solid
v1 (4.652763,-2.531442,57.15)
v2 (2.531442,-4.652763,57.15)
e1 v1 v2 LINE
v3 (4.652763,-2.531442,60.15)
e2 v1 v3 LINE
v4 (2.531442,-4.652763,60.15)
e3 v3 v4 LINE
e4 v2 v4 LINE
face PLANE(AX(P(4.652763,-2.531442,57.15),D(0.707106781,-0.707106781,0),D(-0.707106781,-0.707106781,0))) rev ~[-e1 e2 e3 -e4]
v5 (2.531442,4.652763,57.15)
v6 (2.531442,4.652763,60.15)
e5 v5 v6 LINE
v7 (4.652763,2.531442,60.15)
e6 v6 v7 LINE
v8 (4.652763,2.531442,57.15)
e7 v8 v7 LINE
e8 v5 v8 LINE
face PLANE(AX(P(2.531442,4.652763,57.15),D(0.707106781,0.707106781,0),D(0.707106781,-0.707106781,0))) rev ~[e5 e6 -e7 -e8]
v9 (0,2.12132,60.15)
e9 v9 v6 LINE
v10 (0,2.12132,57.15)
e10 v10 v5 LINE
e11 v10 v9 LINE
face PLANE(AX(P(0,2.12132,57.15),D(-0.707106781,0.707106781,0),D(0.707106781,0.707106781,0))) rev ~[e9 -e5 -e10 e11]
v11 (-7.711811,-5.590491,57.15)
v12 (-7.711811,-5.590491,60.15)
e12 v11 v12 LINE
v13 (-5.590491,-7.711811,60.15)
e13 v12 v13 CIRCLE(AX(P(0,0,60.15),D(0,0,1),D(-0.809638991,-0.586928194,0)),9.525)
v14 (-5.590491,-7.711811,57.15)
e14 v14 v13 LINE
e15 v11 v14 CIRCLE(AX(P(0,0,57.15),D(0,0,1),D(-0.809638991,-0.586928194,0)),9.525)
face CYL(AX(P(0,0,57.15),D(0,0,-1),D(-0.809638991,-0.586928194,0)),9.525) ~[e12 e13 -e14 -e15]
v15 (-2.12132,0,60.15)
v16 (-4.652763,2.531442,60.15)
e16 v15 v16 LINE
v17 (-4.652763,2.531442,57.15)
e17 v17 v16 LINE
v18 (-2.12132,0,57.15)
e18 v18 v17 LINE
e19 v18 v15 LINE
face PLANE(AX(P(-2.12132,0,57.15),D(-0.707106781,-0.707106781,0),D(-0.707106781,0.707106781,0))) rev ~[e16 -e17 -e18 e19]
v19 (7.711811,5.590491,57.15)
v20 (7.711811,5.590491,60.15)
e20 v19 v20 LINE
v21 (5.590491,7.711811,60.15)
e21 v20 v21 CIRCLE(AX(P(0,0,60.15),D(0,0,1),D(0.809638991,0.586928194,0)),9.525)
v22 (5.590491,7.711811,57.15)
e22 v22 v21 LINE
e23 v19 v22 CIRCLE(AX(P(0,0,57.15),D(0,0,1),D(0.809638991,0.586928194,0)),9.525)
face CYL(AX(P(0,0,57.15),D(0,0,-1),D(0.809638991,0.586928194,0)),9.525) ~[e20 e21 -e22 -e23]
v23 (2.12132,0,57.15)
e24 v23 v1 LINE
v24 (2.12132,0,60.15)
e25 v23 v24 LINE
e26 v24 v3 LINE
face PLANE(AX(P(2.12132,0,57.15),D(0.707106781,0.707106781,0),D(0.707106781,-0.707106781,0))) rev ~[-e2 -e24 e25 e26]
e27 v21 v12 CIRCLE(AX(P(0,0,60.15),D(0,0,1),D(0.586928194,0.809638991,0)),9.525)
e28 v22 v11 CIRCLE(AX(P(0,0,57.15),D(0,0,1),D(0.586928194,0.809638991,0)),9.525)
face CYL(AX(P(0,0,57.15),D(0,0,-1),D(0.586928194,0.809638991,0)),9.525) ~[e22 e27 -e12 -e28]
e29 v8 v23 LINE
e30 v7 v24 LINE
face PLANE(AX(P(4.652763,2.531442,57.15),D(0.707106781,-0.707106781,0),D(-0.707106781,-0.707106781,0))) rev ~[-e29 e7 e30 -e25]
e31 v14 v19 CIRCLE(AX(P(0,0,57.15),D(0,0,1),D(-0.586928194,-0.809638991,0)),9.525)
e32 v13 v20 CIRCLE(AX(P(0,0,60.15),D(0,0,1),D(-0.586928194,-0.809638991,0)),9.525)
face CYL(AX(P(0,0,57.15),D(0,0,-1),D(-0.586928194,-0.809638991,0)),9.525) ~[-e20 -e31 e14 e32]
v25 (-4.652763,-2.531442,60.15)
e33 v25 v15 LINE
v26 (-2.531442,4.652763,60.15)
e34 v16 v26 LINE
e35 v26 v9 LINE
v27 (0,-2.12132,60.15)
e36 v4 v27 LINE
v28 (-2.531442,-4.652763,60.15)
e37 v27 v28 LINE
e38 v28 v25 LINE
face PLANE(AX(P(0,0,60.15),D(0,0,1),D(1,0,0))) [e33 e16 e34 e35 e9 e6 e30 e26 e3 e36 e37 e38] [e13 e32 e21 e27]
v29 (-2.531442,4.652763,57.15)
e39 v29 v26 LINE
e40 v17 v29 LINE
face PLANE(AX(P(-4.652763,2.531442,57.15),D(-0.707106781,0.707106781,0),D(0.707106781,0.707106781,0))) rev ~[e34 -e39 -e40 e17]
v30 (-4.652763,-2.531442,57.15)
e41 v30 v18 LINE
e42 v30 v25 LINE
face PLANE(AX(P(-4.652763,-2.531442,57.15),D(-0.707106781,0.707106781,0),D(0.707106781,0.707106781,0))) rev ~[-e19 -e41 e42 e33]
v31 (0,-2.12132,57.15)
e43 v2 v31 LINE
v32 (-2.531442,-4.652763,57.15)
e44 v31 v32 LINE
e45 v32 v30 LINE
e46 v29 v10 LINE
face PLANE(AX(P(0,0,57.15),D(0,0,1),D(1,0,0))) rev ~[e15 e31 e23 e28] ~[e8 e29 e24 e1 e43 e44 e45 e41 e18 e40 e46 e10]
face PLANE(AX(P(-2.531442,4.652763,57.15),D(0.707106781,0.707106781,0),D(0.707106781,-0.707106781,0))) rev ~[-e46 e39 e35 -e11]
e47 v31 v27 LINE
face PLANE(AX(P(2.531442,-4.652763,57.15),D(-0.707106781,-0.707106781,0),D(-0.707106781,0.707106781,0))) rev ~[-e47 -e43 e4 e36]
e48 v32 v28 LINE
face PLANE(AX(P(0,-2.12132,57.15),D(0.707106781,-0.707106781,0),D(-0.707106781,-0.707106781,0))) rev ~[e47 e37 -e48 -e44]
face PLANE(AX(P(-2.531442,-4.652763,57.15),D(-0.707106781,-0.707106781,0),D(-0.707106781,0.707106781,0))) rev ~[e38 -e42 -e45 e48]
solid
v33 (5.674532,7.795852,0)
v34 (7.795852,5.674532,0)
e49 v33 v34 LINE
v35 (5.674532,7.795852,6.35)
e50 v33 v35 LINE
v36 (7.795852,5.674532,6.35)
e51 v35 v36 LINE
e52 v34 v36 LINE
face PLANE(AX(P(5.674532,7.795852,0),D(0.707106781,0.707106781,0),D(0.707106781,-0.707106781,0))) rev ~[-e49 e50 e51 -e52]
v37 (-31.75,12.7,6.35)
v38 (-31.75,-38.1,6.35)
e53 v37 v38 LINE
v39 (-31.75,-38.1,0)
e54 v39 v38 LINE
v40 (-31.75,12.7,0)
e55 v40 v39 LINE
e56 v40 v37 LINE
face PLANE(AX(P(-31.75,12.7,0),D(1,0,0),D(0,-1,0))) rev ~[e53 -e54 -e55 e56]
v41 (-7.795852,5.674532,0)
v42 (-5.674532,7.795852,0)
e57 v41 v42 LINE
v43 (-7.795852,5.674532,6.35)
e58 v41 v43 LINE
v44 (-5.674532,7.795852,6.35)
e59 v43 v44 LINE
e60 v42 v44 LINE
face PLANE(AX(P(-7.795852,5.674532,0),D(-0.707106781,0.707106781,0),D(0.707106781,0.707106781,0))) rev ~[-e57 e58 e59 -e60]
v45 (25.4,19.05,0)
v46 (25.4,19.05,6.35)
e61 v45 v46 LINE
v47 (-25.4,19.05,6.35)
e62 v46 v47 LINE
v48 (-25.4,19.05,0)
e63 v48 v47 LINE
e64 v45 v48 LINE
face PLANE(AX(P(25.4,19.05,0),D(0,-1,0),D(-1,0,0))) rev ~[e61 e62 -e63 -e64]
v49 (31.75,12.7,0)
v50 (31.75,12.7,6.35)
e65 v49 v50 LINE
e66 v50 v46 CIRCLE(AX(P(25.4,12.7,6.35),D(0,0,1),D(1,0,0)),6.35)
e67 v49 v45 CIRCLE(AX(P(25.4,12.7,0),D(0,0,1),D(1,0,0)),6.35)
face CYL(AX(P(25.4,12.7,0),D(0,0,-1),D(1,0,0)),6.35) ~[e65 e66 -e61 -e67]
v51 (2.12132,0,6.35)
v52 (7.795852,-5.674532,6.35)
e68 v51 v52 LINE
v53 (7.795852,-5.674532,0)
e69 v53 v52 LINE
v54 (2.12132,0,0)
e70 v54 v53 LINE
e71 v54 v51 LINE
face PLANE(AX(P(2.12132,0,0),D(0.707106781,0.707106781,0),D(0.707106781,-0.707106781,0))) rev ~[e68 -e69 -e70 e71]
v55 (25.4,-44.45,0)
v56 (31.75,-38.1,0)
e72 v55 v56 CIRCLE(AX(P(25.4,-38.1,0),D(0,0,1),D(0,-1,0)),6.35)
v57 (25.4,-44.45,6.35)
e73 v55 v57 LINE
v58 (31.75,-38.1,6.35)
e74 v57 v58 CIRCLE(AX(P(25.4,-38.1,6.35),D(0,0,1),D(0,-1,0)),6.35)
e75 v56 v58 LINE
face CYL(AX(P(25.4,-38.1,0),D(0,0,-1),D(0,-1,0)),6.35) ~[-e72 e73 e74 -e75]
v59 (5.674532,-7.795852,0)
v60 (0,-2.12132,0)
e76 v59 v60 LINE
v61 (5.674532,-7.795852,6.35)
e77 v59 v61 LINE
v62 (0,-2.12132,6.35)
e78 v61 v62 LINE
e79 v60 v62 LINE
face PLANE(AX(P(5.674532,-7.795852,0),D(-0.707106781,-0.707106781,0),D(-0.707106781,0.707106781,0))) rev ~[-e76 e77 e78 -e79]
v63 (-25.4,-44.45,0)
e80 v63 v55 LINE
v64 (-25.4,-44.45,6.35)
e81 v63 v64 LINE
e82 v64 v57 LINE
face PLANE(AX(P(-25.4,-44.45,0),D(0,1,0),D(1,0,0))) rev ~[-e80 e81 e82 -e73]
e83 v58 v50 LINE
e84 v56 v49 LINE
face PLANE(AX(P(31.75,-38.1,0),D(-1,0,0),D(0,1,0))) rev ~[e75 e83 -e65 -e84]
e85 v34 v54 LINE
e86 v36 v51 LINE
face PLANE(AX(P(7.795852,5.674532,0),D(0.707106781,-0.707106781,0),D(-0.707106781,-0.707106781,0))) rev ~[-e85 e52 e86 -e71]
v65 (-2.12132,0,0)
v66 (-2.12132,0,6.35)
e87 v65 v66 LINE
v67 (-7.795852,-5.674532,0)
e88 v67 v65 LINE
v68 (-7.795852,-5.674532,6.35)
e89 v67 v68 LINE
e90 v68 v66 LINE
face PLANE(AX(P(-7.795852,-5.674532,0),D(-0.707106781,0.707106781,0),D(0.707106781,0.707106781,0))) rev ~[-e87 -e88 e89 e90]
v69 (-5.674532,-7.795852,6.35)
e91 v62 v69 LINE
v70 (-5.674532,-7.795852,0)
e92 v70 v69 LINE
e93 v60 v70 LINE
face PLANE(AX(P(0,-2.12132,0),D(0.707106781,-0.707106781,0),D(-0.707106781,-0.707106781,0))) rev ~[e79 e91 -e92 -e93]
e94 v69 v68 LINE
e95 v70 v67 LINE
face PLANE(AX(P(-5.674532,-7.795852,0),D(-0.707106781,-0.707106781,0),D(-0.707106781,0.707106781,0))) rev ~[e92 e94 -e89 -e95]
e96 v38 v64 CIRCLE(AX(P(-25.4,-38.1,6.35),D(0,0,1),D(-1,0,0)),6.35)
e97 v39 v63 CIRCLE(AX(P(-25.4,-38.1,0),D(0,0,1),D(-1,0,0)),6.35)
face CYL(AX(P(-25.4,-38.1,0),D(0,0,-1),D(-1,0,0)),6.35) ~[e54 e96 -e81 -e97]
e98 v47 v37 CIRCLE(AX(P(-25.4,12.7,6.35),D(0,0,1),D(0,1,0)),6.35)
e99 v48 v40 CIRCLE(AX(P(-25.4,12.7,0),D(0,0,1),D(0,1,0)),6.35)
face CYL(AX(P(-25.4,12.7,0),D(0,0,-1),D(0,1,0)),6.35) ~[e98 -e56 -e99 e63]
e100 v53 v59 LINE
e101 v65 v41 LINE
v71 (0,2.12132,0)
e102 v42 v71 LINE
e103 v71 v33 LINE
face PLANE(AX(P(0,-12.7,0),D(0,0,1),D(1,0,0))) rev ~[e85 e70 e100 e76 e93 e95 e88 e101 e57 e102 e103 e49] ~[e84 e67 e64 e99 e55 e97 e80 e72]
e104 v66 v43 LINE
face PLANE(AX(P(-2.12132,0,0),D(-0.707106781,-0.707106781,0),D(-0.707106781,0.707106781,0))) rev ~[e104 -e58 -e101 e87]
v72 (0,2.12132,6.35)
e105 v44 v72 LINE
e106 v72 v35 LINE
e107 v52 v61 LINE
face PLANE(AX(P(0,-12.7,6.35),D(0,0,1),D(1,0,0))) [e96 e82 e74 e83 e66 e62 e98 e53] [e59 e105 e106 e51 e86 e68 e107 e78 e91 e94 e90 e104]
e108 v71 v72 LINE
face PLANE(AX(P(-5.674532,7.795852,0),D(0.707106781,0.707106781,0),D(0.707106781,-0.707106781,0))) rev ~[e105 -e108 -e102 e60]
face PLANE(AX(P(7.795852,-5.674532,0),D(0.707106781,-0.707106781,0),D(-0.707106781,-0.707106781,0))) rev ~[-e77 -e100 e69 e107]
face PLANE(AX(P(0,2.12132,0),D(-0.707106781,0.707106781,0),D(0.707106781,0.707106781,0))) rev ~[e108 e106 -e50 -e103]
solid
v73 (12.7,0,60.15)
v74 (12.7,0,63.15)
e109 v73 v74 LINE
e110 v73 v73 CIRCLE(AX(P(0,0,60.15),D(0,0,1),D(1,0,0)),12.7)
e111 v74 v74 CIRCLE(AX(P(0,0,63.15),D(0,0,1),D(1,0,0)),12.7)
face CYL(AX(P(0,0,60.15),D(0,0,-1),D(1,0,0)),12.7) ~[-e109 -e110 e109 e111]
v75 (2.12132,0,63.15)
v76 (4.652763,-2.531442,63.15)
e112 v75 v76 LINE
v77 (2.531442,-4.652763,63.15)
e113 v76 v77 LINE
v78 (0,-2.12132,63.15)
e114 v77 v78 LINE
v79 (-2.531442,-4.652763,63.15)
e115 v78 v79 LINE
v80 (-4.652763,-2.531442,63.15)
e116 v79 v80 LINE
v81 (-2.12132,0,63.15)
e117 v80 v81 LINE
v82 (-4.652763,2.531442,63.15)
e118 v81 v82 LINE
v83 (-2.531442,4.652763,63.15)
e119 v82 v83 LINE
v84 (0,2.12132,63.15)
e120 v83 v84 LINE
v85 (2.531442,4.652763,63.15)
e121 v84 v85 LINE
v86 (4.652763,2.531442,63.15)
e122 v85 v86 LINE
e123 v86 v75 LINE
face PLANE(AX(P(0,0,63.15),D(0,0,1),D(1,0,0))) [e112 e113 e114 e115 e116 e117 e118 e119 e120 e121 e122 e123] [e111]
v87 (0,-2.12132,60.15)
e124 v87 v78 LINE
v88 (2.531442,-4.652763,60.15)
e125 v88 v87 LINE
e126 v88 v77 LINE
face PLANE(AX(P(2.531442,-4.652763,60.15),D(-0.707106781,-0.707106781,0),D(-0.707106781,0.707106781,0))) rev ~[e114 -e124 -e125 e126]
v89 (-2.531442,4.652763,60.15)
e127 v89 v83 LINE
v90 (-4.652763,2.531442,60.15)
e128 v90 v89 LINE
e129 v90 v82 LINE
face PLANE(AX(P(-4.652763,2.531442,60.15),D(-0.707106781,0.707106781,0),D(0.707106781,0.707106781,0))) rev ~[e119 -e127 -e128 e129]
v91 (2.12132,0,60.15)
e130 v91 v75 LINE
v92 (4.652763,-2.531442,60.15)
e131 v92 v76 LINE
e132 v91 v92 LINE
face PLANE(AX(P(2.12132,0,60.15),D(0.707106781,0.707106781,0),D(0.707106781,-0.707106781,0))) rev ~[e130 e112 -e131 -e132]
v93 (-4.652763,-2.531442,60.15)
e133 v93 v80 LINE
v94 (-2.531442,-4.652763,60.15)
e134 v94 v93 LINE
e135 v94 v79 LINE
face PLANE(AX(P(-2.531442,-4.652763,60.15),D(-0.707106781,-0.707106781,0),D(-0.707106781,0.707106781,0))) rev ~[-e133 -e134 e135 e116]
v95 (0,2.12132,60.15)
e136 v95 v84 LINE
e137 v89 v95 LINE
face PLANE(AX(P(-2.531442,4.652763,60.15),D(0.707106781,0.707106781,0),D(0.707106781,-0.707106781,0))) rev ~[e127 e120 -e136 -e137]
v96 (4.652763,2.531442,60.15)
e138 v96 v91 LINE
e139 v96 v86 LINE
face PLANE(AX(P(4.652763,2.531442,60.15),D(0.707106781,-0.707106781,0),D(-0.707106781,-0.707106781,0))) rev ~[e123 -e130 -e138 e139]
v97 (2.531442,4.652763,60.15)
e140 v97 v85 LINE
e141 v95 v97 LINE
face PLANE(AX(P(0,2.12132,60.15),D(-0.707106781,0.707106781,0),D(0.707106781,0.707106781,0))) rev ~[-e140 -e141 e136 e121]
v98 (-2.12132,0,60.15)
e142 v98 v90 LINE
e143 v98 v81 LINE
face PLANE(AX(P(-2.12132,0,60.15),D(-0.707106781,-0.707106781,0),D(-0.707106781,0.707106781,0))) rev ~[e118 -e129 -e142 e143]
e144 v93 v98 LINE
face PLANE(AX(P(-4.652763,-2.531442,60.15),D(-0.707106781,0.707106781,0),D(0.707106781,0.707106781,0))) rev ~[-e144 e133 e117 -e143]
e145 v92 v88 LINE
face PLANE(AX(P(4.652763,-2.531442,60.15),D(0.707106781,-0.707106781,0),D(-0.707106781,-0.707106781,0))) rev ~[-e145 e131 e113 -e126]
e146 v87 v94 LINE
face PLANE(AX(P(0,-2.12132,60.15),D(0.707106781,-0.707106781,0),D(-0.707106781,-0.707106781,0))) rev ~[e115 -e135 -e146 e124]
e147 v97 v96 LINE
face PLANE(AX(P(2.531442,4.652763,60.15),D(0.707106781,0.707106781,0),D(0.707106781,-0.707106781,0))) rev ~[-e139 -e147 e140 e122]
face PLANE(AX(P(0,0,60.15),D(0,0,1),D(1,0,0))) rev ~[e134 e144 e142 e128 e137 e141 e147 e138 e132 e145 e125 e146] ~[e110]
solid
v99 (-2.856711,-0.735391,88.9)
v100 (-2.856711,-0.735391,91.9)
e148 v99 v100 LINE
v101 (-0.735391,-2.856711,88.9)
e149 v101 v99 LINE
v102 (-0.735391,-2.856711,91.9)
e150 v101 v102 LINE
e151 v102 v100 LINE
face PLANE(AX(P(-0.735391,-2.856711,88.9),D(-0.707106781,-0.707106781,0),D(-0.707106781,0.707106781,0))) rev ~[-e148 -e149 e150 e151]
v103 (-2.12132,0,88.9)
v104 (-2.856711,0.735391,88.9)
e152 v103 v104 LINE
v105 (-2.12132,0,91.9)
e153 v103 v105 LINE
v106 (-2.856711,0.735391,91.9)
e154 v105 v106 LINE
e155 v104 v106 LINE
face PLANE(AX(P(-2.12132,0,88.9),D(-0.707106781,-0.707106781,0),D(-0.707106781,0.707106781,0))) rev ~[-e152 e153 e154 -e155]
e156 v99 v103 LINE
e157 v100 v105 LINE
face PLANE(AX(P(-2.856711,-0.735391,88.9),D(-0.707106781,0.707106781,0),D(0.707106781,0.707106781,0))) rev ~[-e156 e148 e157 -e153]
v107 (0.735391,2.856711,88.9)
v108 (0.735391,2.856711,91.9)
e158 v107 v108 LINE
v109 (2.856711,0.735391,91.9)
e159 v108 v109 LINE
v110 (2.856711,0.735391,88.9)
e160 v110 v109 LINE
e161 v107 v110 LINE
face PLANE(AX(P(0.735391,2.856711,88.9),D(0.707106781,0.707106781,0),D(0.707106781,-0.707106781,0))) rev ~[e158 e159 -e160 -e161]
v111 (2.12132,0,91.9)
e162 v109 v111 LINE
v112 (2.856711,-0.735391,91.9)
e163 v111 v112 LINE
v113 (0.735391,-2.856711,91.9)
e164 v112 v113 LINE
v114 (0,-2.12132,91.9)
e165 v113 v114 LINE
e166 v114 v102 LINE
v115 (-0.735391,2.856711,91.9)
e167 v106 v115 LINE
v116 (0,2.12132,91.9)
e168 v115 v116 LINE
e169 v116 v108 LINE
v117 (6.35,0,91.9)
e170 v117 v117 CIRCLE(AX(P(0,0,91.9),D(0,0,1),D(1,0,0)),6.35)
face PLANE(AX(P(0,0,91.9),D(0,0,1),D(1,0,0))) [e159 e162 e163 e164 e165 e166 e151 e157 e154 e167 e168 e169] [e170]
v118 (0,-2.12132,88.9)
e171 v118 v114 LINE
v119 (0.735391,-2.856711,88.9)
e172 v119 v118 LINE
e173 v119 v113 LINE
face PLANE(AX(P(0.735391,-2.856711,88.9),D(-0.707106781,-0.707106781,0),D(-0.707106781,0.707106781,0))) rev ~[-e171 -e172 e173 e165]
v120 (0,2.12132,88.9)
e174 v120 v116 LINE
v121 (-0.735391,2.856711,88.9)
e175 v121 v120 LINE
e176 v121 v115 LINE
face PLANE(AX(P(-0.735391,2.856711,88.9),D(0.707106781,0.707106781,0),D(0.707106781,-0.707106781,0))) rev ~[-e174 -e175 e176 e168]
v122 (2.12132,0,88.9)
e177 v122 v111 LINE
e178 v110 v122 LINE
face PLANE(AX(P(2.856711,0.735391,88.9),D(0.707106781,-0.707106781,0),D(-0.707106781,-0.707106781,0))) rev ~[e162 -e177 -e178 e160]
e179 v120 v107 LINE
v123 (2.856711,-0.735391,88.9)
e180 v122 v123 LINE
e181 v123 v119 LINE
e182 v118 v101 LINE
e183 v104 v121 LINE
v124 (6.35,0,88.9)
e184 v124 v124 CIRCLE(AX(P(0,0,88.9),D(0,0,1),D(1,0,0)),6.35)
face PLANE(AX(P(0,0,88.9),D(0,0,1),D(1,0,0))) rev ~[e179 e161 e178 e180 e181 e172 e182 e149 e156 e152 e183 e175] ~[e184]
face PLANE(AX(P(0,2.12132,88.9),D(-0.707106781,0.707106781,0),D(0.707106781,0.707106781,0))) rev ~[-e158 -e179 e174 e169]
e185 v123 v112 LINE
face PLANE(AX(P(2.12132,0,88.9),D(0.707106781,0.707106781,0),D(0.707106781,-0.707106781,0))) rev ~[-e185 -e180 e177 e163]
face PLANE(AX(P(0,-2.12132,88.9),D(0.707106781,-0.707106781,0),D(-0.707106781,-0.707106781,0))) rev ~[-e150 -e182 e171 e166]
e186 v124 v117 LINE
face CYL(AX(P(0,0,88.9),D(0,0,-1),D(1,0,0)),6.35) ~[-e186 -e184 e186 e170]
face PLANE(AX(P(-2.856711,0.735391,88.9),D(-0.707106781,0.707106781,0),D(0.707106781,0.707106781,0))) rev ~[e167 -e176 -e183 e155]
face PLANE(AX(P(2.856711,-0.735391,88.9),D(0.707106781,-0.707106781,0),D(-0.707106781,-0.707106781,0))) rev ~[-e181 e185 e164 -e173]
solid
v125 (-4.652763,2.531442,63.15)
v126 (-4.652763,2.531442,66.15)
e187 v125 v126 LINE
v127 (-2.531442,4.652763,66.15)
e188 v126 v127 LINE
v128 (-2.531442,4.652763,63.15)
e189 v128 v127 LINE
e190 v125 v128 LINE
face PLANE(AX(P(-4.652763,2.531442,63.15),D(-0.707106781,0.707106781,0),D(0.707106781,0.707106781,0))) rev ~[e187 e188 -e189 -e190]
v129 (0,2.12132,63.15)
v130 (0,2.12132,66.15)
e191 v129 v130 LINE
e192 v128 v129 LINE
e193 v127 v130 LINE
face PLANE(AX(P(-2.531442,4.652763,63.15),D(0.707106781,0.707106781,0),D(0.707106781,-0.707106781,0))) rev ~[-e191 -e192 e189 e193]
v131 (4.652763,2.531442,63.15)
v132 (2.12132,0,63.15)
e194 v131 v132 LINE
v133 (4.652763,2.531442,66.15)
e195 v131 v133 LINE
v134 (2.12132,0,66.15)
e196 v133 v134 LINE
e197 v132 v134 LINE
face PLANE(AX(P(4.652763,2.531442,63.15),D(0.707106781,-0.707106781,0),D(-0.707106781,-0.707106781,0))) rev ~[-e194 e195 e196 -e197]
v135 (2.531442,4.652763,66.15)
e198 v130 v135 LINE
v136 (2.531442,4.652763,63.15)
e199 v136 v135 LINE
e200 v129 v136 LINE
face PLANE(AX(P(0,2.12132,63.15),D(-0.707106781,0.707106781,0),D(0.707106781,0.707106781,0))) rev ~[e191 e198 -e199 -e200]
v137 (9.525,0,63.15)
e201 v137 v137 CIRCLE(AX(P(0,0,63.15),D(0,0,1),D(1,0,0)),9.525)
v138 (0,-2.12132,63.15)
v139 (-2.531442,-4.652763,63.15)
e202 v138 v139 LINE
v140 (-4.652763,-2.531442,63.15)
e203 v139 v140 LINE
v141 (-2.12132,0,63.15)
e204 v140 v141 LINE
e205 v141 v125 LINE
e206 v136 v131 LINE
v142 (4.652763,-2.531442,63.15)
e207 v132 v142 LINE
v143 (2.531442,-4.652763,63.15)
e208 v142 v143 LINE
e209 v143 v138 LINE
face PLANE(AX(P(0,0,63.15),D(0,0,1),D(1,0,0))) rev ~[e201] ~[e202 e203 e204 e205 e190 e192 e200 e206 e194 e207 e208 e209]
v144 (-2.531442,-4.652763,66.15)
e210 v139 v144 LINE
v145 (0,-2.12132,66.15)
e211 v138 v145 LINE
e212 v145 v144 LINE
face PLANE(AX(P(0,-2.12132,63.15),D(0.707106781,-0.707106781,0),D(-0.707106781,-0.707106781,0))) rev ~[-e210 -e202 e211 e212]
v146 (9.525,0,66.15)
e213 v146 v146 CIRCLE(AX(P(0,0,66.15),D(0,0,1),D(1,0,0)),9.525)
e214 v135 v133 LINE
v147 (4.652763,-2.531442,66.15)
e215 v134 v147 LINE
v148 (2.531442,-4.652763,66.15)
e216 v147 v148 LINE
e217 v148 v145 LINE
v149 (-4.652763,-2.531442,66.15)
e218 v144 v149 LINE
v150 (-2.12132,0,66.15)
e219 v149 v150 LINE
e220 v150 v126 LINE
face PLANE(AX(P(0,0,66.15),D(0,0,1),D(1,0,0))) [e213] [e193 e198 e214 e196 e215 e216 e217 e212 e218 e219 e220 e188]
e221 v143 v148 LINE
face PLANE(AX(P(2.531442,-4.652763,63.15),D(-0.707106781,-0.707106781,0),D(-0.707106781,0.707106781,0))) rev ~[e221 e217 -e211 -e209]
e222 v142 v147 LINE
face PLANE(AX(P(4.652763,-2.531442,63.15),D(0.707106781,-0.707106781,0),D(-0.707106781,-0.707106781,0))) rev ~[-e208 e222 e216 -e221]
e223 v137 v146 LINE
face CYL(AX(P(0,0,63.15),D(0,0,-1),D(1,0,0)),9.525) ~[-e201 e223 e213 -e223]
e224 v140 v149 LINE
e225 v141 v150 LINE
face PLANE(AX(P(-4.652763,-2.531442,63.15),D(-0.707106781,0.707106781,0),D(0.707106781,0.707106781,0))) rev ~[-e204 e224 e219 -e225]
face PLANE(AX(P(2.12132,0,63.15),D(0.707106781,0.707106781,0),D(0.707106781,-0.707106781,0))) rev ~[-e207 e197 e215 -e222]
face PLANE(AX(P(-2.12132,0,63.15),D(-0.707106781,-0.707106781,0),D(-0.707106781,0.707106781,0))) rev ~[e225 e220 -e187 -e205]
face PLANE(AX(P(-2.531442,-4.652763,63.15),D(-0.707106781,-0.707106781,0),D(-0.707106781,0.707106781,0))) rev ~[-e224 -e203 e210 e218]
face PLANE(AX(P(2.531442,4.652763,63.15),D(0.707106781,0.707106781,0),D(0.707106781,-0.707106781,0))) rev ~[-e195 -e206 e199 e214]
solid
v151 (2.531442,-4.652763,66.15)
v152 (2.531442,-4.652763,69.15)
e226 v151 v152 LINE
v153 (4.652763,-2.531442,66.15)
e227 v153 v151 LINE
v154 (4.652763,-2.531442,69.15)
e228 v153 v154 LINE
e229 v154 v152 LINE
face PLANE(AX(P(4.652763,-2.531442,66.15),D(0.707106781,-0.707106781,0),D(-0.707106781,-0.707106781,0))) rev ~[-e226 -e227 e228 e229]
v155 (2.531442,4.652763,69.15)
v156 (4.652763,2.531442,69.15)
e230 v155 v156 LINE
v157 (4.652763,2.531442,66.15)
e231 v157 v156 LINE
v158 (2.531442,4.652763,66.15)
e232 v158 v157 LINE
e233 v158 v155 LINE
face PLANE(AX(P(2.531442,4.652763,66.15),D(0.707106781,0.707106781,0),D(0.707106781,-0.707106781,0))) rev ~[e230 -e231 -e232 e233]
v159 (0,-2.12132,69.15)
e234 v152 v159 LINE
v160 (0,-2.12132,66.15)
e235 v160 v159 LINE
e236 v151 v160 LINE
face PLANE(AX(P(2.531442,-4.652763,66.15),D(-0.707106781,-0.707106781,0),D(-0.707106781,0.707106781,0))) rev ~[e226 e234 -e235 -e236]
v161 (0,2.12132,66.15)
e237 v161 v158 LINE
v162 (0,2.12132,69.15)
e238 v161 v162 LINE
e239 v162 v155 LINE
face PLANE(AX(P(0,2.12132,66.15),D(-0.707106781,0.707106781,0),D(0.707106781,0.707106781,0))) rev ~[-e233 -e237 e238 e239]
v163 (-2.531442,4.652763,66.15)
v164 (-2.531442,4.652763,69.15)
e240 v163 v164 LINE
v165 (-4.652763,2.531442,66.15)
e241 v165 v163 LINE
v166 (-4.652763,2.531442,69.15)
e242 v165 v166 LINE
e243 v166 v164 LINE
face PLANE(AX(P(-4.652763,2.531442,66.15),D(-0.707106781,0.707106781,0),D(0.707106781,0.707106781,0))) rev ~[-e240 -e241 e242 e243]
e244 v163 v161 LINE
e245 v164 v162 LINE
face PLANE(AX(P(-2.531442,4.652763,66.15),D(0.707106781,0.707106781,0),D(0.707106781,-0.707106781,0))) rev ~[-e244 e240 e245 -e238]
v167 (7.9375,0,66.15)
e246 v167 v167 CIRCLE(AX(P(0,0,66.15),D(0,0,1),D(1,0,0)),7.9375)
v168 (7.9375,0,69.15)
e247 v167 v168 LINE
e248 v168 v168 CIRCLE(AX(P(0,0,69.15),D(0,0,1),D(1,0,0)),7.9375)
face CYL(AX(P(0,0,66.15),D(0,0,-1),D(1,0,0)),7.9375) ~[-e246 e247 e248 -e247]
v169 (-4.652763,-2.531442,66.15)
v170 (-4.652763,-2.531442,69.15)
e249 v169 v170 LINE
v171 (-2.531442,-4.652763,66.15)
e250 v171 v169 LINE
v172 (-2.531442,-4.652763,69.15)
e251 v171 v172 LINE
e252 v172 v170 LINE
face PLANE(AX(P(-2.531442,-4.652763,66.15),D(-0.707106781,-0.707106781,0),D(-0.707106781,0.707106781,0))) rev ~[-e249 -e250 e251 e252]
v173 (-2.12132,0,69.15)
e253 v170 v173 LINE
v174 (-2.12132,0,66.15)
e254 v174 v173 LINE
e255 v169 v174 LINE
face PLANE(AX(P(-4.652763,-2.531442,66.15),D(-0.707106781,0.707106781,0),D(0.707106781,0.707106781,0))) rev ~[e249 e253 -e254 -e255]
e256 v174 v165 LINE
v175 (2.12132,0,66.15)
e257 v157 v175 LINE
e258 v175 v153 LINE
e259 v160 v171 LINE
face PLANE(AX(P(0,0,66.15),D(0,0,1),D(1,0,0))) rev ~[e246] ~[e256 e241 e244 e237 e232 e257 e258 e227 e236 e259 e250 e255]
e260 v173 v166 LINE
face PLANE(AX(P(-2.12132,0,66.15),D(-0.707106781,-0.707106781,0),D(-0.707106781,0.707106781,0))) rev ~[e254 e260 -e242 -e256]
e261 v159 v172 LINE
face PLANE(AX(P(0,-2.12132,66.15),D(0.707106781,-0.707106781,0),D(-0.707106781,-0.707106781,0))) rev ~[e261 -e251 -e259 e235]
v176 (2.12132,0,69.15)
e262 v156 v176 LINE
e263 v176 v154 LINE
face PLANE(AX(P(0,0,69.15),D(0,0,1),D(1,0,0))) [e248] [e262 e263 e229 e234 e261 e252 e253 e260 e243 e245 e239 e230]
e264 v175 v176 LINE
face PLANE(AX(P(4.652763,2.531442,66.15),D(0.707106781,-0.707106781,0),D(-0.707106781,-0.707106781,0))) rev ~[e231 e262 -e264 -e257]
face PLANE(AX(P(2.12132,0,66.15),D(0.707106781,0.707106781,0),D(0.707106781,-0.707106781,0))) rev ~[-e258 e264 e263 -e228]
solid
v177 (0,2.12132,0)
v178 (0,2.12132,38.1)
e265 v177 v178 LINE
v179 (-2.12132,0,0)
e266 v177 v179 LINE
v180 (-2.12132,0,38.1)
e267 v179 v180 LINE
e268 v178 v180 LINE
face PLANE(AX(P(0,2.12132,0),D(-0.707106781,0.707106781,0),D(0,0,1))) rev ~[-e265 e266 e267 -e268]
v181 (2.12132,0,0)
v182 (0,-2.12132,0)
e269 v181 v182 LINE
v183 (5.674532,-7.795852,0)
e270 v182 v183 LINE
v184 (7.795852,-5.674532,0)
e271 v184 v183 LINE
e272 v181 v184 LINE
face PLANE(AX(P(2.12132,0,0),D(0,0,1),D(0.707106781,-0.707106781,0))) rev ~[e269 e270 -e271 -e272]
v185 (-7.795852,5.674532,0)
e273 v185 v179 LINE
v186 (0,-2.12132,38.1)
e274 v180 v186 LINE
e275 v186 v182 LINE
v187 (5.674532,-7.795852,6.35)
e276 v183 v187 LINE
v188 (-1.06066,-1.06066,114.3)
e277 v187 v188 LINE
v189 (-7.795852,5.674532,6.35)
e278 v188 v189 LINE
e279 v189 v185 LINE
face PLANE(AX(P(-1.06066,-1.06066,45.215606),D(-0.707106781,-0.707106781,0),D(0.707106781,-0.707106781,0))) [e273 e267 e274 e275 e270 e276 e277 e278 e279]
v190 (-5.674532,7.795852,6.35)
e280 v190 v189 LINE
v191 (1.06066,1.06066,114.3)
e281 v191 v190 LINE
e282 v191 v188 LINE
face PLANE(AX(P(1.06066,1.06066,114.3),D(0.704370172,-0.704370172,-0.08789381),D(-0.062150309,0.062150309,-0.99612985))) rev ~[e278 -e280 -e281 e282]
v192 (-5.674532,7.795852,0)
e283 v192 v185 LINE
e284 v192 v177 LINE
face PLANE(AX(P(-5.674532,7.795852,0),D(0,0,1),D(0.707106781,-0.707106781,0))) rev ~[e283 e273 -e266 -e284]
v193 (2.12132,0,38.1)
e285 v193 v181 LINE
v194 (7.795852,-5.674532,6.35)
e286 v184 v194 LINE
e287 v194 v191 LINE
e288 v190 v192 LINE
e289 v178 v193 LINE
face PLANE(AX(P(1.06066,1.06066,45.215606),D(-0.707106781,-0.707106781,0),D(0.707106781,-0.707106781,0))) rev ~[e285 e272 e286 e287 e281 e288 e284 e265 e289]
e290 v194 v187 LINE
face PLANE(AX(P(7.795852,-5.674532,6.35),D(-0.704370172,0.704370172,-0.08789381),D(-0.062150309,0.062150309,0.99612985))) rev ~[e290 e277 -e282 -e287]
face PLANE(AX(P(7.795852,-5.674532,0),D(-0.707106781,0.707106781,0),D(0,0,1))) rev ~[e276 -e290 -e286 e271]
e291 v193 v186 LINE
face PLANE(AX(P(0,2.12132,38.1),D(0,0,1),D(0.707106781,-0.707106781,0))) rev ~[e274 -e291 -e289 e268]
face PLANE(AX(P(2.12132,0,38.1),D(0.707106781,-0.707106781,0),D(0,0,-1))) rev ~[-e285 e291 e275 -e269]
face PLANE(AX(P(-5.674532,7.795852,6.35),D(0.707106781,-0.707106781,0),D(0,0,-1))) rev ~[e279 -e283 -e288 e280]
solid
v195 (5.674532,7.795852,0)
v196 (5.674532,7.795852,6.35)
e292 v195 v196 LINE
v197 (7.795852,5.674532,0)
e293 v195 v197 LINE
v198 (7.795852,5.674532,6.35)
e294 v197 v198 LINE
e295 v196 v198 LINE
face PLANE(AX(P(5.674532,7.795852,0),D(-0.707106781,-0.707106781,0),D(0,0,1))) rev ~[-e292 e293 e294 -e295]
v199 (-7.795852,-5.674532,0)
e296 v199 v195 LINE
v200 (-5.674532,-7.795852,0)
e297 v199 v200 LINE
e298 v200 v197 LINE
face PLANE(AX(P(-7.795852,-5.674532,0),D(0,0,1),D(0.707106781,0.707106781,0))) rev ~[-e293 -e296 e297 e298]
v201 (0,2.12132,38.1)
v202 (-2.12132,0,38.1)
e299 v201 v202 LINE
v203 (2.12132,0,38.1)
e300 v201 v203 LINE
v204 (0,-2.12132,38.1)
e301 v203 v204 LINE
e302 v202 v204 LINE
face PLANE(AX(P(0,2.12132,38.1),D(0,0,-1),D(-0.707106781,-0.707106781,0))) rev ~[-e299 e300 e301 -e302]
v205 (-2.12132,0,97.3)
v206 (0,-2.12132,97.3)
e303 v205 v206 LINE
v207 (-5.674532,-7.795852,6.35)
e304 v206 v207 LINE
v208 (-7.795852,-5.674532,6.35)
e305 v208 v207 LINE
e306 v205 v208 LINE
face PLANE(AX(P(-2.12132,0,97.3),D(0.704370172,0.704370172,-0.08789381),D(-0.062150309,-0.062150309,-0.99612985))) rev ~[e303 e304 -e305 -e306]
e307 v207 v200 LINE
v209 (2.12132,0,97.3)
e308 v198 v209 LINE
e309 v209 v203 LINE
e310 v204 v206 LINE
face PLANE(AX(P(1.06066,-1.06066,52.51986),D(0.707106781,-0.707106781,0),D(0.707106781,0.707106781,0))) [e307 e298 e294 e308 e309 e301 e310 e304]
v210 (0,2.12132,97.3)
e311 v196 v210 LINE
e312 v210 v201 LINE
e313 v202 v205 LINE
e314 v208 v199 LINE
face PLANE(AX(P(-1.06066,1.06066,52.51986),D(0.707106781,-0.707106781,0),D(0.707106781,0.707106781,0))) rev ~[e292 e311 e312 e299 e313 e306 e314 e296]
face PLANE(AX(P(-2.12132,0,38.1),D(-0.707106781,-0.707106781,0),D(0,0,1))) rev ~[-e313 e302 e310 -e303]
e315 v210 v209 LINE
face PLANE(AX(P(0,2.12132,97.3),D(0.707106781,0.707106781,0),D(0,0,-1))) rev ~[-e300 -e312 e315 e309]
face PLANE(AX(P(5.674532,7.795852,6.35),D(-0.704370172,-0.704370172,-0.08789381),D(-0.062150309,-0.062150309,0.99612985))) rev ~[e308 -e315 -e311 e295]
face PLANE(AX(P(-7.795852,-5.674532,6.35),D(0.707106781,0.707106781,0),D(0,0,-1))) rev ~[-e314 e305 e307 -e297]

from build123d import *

# Parameters (mm, degrees)
F1_DEPTH  = 6.35
F3_DEPTH  = 3
F5_DEPTH  = 3
F9_DEPTH  = 3
F10_R     = 12.7
F10_R_2   = 9.525
F11_DEPTH = 3
F12_R     = 9.525
F13_DEPTH = 3
F14_R     = 7.9375
F15_DEPTH = 3
F16_R     = 6.35
F17_DEPTH = 3


with BuildPart() as f1:
    # F0 (on Top) → F1 (new body)
    with BuildSketch(Plane.XY):
        with BuildLine():
            ThreePointArc((31.75, 12.7), (29.8901280605, 17.1901280605), (25.4, 19.05))
            Line((25.4, 19.05), (-25.4, 19.05))
            ThreePointArc((-25.4, 19.05), (-29.8901280605, 17.1901280605), (-31.75, 12.7))
            Line((-31.75, 12.7), (-31.75, -38.1))
            ThreePointArc((-31.75, -38.1), (-29.8901280605, -42.5901280605), (-25.4, -44.45))
            Line((-25.4, -44.45), (25.4, -44.45))
            ThreePointArc((25.4, -44.45), (29.8901280605, -42.5901280605), (31.75, -38.1))
            Line((31.75, -38.1), (31.75, 12.7))
        make_face()
        Polygon((-2.1213203436, 0), (-7.7958522626, 5.674531919), (-5.674531919, 7.7958522626), (0, 2.1213203436), (5.674531919, 7.7958522626), (7.7958522626, 5.674531919), (2.1213203436, 0), (7.7958522626, -5.674531919), (5.674531919, -7.7958522626), (0, -2.1213203436), (-5.674531919, -7.7958522626), (-7.7958522626, -5.674531919), align=None, mode=Mode.SUBTRACT)
    extrude(amount=F1_DEPTH)


with BuildPart() as f3:
    # F2 (on face) → F3 (new body)
    with BuildSketch(Plane(origin=(1.0606601718, 1.0606601718, 0), x_dir=(0.7071067812, -0.7071067812, 0), z_dir=(-0.7071067812, -0.7071067812, 0))):
        Polygon((0, 114.3), (-9.525, 6.35), (-9.525, 0), (-1.5, 0), (-1.5, 6.35), (-1.5, 38.1), (1.5, 38.1), (1.5, 6.35), (1.5, 0), (9.525, 0), (9.525, 6.35), align=None)
    extrude(amount=F3_DEPTH)


with BuildPart() as f5:
    # F4 (on face) → F5 (new body)
    with BuildSketch(Plane(origin=(-1.0606601718, 1.0606601718, 0), x_dir=(0.7071067812, 0.7071067812, 0), z_dir=(0.7071067812, -0.7071067812, 0))):
        Polygon((-1.5, 97.3), (-9.525, 6.35), (-9.525, 0), (9.525, 0), (9.525, 6.35), (1.5, 97.3), (1.5, 38.1), (-1.5, 38.1), align=None)
    extrude(amount=F5_DEPTH)


with BuildPart() as f9:
    # F8 (on offset) → F9 (new body)
    with BuildSketch(Plane.XY.offset(57.15)):
        with BuildLine():
            ThreePointArc((-5.5904910444, -7.7118113879), (4.3287525803, -8.4845463107), (9.525, 0))
            ThreePointArc((9.525, 0), (9.0603705352, 2.938589928), (7.7118113879, 5.5904910444))
            ThreePointArc((7.7118113879, 5.5904910444), (6.7351920908, 6.7351920908), (5.5904910444, 7.7118113879))
            ThreePointArc((5.5904910444, 7.7118113879), (-6.7351920908, 6.7351920908), (-7.7118113879, -5.5904910444))
            ThreePointArc((-7.7118113879, -5.5904910444), (-6.7351920908, -6.7351920908), (-5.5904910444, -7.7118113879))
        make_face()
        Polygon((-4.6527626202, 2.5314422766), (-2.5314422766, 4.6527626202), (0, 2.1213203436), (2.5314422766, 4.6527626202), (4.6527626202, 2.5314422766), (2.1213203436, 0), (4.6527626202, -2.5314422766), (2.5314422766, -4.6527626202), (0, -2.1213203436), (-2.5314422766, -4.6527626202), (-4.6527626202, -2.5314422766), (-2.1213203436, 0), align=None, mode=Mode.SUBTRACT)
    extrude(amount=F9_DEPTH)


with BuildPart() as f11:
    # F10 (on face) → F11 (new body)
    with BuildSketch(Plane.XY.offset(60.15)):
        Circle(F10_R)
        Circle(F10_R_2, mode=Mode.SUBTRACT)
        Circle(F10_R_2)
        Polygon((-4.6527626202, -2.5314422766), (-2.1213203436, 0), (-4.6527626202, 2.5314422766), (-2.5314422766, 4.6527626202), (0, 2.1213203436), (2.5314422766, 4.6527626202), (4.6527626202, 2.5314422766), (2.1213203436, 0), (4.6527626202, -2.5314422766), (2.5314422766, -4.6527626202), (0, -2.1213203436), (-2.5314422766, -4.6527626202), align=None, mode=Mode.SUBTRACT)
    extrude(amount=F11_DEPTH)


with BuildPart() as f13:
    # F12 (on face) → F13 (new body)
    with BuildSketch(Plane.XY.offset(63.15)):
        Circle(F12_R)
        Polygon((2.5314422766, 4.6527626202), (4.6527626202, 2.5314422766), (2.1213203436, 0), (4.6527626202, -2.5314422766), (2.5314422766, -4.6527626202), (0, -2.1213203436), (-2.5314422766, -4.6527626202), (-4.6527626202, -2.5314422766), (-2.1213203436, 0), (-4.6527626202, 2.5314422766), (-2.5314422766, 4.6527626202), (0, 2.1213203436), align=None, mode=Mode.SUBTRACT)
    extrude(amount=F13_DEPTH)


with BuildPart() as f15:
    # F14 (on face) → F15 (new body)
    with BuildSketch(Plane.XY.offset(66.15)):
        Circle(F14_R)
        Polygon((-4.6527626202, -2.5314422766), (-2.1213203436, 0), (-4.6527626202, 2.5314422766), (-2.5314422766, 4.6527626202), (0, 2.1213203436), (2.5314422766, 4.6527626202), (4.6527626202, 2.5314422766), (2.1213203436, 0), (4.6527626202, -2.5314422766), (2.5314422766, -4.6527626202), (0, -2.1213203436), (-2.5314422766, -4.6527626202), align=None, mode=Mode.SUBTRACT)
    extrude(amount=F15_DEPTH)


with BuildPart() as f17:
    # F16 (on offset) → F17 (new body)
    with BuildSketch(Plane.XY.offset(88.9)):
        Circle(F16_R)
        Polygon((-2.856711396, 0.7353910524), (-0.7353910524, 2.856711396), (0, 2.1213203436), (0.7353910524, 2.856711396), (2.856711396, 0.7353910524), (2.1213203436, 0), (2.856711396, -0.7353910524), (0.7353910524, -2.856711396), (0, -2.1213203436), (-0.7353910524, -2.856711396), (-2.856711396, -0.7353910524), (-2.1213203436, 0), align=None, mode=Mode.SUBTRACT)
    extrude(amount=F17_DEPTH)


solid = Compound([f1.part, f3.part, f5.part, f9.part, f11.part, f13.part, f15.part, f17.part])
